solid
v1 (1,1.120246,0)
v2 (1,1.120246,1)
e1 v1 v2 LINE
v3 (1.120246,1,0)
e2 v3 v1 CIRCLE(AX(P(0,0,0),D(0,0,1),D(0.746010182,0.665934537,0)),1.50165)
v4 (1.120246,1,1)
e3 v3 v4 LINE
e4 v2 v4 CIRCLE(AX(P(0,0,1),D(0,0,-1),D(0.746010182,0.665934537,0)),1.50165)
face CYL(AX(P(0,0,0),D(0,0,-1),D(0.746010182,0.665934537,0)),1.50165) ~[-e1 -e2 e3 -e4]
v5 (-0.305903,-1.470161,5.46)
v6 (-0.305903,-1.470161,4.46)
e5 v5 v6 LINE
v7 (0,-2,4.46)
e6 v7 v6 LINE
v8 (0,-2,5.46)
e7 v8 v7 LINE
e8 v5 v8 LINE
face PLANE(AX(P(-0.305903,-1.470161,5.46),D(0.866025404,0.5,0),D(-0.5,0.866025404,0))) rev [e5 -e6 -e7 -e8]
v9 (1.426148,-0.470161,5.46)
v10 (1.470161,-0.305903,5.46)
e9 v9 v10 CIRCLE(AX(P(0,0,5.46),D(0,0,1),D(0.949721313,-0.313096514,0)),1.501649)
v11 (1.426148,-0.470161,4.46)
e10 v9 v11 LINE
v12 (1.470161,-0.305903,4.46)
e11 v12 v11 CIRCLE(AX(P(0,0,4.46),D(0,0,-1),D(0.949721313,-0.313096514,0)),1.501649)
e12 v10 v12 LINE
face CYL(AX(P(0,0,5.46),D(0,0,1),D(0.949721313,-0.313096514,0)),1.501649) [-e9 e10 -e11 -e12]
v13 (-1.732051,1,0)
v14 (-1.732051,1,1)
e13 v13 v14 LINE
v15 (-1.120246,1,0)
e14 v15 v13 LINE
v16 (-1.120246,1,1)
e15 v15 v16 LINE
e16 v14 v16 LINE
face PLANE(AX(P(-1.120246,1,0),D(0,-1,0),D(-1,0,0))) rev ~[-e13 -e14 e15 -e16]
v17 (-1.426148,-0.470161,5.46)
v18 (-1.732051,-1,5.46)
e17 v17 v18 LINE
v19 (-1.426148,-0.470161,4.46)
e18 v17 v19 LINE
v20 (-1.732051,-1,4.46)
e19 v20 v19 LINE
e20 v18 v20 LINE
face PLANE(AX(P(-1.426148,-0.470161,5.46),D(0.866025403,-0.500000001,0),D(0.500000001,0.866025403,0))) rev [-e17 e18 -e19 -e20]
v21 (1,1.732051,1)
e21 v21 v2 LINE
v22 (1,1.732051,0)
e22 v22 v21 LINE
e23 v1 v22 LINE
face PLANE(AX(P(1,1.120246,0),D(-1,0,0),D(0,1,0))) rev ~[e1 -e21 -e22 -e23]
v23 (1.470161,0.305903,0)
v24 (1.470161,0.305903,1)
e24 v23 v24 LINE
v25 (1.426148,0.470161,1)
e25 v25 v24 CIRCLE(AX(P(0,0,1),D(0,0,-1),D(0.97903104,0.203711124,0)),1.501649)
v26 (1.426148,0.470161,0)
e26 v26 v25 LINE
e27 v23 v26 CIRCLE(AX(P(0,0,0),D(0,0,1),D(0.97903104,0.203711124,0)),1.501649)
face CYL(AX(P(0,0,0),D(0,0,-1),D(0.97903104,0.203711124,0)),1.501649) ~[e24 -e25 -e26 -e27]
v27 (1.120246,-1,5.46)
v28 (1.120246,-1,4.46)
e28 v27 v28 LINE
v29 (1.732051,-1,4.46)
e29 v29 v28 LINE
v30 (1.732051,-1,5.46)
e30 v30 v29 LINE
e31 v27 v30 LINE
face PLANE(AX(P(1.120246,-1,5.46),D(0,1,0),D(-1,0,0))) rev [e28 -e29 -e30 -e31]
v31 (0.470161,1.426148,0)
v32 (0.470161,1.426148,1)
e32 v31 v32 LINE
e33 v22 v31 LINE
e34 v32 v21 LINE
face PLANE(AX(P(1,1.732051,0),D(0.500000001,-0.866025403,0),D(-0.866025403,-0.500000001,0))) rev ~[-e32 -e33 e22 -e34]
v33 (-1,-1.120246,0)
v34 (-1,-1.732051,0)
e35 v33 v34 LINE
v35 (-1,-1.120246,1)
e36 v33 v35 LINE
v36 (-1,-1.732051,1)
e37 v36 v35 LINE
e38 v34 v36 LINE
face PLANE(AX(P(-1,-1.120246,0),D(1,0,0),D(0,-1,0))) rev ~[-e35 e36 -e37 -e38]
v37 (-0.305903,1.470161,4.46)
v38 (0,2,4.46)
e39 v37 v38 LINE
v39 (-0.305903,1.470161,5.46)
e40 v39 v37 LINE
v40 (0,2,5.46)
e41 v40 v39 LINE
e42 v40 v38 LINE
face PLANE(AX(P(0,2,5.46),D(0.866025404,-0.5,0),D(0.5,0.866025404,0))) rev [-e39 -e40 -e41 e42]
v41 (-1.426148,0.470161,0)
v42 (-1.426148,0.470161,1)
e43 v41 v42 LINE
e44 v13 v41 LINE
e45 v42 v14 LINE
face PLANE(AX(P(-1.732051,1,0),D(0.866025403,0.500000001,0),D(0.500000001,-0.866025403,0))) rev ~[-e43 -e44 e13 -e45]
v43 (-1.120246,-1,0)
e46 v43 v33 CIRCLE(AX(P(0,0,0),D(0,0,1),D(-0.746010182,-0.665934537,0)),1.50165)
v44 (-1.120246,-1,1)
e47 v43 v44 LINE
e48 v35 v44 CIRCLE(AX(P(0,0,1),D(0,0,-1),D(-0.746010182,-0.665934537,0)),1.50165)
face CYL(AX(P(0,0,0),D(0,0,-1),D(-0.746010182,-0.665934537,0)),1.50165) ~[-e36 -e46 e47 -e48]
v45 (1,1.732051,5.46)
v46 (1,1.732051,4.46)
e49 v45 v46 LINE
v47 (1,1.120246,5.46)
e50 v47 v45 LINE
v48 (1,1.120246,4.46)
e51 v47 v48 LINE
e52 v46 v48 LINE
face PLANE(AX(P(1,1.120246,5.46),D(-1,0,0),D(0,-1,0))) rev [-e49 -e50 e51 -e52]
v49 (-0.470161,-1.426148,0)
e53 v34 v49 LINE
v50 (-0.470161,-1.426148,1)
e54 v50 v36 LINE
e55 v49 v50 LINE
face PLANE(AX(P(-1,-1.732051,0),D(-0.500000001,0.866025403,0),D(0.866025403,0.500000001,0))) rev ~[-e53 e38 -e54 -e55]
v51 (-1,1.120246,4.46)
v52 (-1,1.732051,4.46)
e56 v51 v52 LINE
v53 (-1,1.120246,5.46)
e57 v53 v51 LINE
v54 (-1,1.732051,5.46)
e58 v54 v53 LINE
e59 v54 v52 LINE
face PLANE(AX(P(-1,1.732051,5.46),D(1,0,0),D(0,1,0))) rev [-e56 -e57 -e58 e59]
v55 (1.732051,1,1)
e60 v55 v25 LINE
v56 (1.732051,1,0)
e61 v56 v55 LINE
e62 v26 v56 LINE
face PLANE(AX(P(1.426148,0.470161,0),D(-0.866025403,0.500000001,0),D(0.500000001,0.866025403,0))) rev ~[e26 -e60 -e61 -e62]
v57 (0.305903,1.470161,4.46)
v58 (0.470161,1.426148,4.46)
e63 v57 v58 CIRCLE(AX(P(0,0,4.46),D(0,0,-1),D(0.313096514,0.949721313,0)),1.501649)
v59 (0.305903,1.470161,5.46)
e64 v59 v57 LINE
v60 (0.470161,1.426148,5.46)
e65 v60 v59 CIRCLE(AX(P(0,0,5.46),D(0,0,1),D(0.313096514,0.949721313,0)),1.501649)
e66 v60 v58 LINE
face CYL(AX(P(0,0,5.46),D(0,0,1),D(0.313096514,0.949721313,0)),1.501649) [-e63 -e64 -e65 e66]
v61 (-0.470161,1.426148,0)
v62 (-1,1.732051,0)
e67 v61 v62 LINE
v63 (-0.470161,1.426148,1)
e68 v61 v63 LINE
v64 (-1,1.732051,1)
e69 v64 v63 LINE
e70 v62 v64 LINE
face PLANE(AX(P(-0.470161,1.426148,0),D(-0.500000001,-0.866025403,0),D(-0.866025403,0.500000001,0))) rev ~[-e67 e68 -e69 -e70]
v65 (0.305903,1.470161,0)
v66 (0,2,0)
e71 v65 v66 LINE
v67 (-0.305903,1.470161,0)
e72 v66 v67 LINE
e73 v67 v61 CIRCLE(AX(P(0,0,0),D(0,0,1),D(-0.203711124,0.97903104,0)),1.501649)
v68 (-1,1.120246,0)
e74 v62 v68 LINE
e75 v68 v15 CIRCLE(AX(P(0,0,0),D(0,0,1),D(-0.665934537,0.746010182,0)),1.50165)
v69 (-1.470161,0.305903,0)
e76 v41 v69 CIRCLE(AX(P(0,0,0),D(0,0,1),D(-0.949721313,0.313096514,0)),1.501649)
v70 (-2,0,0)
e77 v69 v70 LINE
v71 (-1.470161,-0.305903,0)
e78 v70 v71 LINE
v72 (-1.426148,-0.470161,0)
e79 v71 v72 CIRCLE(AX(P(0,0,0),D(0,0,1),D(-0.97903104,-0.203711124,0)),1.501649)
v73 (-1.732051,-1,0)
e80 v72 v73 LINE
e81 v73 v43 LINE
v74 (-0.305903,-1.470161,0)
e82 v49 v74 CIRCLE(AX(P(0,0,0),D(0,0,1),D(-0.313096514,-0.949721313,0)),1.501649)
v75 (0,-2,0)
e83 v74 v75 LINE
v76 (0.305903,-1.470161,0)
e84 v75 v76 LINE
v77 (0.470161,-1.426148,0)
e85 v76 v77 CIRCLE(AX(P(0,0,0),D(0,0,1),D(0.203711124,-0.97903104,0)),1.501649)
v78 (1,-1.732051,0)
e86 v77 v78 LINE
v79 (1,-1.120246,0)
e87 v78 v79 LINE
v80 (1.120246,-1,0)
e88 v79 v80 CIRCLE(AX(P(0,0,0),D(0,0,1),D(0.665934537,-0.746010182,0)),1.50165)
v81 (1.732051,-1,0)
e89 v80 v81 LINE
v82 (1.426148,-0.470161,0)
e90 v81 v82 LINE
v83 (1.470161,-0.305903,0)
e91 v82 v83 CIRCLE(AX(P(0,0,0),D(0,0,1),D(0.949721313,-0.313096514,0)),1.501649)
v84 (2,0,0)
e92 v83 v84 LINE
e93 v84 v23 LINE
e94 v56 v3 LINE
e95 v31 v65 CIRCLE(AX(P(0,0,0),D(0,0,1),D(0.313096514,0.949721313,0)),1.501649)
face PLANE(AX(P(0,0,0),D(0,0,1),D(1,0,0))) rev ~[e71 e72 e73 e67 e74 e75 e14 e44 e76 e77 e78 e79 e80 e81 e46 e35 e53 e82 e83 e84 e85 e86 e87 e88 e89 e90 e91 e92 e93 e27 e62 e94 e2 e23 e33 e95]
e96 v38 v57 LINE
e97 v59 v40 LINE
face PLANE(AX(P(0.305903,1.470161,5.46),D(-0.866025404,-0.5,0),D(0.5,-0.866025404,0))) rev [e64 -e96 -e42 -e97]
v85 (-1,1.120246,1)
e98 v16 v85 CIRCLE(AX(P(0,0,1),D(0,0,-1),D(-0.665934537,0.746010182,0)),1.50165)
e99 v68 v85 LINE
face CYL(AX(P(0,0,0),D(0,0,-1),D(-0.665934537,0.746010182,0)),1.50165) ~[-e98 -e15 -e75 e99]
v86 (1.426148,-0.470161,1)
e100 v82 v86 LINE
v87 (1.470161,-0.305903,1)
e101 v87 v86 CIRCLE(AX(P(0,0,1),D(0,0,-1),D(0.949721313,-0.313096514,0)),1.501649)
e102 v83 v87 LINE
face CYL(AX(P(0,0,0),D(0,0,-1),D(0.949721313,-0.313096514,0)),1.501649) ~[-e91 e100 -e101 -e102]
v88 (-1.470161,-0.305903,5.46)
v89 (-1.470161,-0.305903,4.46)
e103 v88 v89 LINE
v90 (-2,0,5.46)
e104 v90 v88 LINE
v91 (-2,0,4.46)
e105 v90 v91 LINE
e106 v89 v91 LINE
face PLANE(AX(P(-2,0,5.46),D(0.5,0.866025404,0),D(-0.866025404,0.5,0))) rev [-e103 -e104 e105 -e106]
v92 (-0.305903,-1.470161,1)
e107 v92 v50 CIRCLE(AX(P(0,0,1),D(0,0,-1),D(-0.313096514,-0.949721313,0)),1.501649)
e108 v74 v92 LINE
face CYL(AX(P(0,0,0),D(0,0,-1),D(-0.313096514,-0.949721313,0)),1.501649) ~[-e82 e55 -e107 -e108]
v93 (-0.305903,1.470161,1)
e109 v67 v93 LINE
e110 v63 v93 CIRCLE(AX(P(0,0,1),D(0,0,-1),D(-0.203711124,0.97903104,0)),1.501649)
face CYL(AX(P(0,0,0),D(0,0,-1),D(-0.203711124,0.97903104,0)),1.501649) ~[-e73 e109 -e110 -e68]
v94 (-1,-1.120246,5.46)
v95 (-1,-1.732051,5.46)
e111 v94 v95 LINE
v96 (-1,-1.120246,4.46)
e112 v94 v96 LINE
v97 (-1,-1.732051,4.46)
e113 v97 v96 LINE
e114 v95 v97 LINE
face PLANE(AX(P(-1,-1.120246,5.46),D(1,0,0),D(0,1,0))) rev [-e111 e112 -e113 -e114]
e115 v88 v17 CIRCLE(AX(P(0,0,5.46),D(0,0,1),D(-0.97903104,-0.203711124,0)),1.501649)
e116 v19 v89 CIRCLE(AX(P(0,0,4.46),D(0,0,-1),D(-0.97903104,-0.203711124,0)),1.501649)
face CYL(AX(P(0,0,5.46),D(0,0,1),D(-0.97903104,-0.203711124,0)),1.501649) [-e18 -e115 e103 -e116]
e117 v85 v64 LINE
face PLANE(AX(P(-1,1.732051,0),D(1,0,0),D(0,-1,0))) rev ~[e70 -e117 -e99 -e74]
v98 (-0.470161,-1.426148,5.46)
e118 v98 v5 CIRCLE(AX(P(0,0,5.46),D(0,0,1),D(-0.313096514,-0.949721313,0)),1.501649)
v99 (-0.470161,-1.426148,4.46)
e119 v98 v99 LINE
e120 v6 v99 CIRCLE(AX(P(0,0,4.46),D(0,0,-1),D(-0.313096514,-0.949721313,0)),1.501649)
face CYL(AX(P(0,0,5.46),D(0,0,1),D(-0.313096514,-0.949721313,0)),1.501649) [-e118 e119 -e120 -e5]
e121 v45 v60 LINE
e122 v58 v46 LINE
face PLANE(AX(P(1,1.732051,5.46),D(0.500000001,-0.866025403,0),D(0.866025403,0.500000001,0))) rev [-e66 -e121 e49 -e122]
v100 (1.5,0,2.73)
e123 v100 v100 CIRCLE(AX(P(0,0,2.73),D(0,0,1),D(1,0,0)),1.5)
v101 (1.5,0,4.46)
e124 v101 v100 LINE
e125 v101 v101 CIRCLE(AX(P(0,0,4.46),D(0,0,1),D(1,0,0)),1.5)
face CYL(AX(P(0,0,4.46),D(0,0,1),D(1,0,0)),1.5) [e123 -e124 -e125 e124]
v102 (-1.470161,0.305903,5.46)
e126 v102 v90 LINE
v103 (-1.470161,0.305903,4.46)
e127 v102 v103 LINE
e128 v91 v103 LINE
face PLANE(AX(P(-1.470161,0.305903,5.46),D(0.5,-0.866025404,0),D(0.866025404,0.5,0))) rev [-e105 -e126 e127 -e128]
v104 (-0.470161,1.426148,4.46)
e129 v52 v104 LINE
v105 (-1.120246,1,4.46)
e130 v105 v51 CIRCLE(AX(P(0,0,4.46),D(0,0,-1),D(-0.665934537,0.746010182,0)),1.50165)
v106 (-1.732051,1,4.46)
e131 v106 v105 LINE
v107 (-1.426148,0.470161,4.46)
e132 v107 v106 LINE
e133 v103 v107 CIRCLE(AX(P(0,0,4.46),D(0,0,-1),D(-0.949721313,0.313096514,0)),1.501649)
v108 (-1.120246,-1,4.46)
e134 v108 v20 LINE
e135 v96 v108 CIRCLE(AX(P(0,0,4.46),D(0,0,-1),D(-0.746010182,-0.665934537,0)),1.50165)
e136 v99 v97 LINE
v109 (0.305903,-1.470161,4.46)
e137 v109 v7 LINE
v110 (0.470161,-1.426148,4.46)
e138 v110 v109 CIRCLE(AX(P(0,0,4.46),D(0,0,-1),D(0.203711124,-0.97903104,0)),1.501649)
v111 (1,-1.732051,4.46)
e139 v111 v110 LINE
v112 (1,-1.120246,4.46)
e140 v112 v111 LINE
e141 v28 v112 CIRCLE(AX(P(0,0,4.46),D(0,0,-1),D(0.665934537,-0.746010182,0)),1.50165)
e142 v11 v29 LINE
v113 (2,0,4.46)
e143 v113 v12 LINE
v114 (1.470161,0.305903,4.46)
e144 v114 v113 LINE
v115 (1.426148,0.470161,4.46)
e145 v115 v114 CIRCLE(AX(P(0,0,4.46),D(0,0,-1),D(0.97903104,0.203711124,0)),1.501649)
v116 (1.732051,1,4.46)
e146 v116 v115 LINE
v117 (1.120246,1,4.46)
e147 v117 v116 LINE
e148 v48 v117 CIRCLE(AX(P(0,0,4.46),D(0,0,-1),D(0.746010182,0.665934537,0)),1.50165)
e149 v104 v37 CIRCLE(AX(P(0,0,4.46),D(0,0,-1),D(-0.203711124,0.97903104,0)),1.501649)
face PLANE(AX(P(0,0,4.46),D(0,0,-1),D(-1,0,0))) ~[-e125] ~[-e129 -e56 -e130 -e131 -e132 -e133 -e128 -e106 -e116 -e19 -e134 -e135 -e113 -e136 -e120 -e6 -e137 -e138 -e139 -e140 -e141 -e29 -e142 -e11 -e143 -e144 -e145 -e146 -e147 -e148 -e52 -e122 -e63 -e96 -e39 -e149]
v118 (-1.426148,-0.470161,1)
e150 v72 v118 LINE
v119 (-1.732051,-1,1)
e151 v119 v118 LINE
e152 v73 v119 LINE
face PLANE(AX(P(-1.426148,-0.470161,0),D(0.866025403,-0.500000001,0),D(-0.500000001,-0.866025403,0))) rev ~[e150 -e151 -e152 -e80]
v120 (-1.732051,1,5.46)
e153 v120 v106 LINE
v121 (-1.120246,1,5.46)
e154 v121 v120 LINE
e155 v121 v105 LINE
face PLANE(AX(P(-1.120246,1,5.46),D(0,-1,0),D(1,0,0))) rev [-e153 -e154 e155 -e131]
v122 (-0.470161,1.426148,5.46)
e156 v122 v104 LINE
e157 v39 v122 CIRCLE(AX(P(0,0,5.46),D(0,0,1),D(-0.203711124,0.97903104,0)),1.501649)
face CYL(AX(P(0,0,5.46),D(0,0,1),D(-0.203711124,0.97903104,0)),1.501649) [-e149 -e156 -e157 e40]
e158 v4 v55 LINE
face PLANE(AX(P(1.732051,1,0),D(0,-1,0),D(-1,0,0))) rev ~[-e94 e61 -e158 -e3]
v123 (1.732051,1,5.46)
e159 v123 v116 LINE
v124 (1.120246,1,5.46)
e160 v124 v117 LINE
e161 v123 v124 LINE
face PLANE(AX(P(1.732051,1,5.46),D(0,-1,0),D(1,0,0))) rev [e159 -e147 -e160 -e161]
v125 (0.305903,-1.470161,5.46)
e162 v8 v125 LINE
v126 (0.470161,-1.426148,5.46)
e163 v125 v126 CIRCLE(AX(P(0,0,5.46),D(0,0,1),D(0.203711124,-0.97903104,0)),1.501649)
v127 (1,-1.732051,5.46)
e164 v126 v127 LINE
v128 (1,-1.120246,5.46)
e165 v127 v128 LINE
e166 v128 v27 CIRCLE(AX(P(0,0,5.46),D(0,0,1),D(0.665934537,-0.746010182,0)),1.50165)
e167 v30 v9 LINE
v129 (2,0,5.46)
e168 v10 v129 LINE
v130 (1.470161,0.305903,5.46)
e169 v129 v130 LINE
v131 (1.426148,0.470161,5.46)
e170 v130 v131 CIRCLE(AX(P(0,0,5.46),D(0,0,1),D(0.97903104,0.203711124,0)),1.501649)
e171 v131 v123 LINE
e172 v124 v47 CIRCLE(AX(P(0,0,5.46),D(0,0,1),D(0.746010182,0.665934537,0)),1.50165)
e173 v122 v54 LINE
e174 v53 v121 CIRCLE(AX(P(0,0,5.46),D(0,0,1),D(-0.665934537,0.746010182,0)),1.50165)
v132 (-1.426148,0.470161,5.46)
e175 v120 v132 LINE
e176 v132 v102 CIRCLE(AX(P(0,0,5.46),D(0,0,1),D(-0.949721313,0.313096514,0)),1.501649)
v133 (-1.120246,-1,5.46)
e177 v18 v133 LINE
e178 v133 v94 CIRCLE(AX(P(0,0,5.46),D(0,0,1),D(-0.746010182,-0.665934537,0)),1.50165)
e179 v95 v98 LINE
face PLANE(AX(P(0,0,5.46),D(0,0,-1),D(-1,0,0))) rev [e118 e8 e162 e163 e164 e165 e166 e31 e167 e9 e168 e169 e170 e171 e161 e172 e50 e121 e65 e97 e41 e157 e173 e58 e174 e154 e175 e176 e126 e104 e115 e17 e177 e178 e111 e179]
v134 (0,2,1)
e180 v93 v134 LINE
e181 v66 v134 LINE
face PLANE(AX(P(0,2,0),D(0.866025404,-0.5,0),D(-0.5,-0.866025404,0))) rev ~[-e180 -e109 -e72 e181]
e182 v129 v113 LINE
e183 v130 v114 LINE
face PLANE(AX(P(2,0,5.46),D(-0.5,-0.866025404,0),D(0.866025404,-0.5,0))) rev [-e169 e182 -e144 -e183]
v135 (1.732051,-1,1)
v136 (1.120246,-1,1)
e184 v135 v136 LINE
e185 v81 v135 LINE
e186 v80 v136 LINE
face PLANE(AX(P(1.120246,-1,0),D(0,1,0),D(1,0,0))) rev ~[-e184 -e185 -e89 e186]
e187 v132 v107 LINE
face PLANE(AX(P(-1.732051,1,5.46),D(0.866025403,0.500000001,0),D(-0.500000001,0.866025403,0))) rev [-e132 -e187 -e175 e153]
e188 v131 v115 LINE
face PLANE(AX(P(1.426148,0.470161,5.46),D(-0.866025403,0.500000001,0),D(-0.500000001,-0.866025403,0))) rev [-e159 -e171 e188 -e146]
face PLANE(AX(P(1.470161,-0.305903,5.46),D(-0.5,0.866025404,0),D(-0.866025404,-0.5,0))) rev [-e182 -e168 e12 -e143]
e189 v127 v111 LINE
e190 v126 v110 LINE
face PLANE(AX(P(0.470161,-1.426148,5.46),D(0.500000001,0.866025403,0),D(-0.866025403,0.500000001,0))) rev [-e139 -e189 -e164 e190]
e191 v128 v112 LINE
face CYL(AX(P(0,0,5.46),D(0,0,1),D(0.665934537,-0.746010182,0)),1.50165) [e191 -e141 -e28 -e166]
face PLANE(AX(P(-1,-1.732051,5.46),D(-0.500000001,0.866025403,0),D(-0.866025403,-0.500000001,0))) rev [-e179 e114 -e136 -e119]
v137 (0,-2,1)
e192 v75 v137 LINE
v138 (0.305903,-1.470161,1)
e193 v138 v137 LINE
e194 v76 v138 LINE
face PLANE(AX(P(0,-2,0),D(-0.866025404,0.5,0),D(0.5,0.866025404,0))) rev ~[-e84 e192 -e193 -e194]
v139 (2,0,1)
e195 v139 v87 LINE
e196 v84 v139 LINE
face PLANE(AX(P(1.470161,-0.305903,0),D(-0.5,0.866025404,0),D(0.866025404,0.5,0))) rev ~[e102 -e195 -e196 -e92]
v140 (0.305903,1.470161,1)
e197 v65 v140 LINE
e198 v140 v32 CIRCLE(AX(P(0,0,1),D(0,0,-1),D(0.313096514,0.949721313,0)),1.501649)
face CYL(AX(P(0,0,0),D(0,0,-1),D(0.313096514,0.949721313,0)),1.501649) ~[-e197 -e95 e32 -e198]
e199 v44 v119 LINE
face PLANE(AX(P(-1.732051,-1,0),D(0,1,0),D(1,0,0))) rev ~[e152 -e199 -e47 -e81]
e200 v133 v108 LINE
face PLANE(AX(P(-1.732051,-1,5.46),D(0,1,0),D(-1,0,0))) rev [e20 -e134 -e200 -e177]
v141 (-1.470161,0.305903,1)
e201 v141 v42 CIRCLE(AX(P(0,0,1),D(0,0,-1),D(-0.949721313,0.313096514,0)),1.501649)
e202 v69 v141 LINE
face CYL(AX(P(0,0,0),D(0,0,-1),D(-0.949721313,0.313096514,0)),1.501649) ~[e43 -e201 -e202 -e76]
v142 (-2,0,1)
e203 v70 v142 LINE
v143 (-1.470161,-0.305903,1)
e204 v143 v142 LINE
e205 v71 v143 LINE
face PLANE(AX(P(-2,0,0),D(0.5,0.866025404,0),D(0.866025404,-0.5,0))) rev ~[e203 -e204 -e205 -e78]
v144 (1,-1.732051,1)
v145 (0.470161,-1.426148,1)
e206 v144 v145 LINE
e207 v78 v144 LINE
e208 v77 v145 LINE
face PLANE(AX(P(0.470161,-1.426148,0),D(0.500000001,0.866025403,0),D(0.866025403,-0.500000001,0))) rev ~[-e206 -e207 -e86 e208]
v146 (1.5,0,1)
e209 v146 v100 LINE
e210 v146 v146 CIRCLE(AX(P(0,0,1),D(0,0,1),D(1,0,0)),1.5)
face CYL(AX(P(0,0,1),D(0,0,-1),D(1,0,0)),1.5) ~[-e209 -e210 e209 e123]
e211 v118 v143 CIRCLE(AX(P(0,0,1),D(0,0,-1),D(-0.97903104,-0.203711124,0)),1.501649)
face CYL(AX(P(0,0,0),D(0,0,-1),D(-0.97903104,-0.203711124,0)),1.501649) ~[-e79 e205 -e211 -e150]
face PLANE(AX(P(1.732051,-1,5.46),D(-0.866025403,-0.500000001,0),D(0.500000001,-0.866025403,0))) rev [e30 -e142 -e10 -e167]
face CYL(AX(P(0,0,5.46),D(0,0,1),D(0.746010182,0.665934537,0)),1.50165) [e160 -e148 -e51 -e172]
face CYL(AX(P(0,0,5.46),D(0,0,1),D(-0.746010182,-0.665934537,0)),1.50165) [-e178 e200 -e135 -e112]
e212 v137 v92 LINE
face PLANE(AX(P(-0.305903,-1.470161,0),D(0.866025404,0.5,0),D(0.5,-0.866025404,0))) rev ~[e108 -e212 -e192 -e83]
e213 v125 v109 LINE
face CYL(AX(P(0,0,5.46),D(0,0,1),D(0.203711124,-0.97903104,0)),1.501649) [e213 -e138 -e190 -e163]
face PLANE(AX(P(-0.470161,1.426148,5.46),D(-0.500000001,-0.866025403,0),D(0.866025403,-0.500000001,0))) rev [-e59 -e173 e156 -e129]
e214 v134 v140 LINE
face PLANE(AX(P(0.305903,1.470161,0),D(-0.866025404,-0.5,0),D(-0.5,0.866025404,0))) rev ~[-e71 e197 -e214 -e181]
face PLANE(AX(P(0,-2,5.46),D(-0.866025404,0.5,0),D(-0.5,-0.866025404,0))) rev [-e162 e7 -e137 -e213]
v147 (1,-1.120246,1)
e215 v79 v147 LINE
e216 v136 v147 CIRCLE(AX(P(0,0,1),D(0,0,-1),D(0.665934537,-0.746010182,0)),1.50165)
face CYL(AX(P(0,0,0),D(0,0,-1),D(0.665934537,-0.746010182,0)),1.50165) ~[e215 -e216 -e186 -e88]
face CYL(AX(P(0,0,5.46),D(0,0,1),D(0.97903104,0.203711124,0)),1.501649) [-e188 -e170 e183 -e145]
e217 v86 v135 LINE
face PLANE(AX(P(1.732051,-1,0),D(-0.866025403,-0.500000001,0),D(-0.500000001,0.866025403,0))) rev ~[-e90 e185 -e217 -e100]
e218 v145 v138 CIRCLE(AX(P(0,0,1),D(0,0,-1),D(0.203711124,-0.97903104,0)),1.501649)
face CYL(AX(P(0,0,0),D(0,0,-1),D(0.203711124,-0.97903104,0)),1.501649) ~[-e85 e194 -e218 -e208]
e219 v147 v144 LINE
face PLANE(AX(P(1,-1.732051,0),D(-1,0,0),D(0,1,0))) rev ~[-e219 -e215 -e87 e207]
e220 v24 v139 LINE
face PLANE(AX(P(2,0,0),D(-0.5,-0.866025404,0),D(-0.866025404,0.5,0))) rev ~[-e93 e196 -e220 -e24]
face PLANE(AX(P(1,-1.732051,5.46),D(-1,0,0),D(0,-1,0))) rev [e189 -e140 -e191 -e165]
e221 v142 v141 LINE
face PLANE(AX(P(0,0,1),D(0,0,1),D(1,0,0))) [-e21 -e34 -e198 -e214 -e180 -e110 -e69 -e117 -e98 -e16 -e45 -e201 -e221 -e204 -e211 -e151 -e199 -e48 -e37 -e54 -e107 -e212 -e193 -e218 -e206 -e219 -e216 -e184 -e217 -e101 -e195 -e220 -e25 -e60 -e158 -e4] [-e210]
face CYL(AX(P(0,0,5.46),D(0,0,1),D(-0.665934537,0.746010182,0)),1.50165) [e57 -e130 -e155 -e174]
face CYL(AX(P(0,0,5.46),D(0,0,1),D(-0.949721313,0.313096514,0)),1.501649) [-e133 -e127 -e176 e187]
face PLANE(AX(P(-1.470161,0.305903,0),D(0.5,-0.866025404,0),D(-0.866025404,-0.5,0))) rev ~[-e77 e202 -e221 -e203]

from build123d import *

# Parameters (mm, degrees)
IZIM1_R                     = 2
Y_KSEKLIK_EKSTR_ZYON1_DEPTH = 1
IZIM2_R                     = 1.5
Y_KSEKLIK_EKSTR_ZYON2_DEPTH = 1.73
KES_EKSTR_ZYON1_DEPTH       = 2


with BuildPart() as part:
    # Çizim1 → Yükseklik-Ekstrüzyon1 (new body)
    with BuildSketch(Plane.XY):
        Circle(IZIM1_R)
    extrude(amount=Y_KSEKLIK_EKSTR_ZYON1_DEPTH)

    # Çizim2 → Yükseklik-Ekstrüzyon2 (add)
    with BuildSketch(Plane.XY.offset(1)):
        Circle(IZIM2_R)
    extrude(amount=Y_KSEKLIK_EKSTR_ZYON2_DEPTH)

    # Çizim3 → Kes-Ekstrüzyon1 (cut)
    with BuildSketch(Plane(origin=(0, 0, 0), x_dir=(-1, 0, 0), z_dir=(0, 0, -1))):
        with BuildLine():
            Line((-0.305902622, 1.470161116), (0, 2))
            ThreePointArc((0, 2), (-0.51763809, 1.931851653), (-1, 1.732050808))
            Line((-1, 1.732050808), (-0.470161116, 1.426148185))
            ThreePointArc((-0.470161116, 1.426148185), (-0.388655395, 1.45048168), (-0.305902622, 1.470161116))
        make_face()
        with BuildLine():
            Line((-1, 1.120245563), (-1, 1.732050808))
            ThreePointArc((-1, 1.732050808), (-1.414213562, 1.414213562), (-1.732050808, 1))
            Line((-1.732050808, 1), (-1.120245563, 1))
            ThreePointArc((-1.120245563, 1), (-1.061826285, 1.061826285), (-1, 1.120245563))
        make_face()
        with BuildLine():
            Line((-1.426148185, 0.470161116), (-1.732050808, 1))
            ThreePointArc((-1.732050808, 1), (-1.931851653, 0.51763809), (-2, 0))
            Line((-2, 0), (-1.470161116, 0.305902622))
            ThreePointArc((-1.470161116, 0.305902622), (-1.45048168, 0.388655395), (-1.426148185, 0.470161116))
        make_face()
        with BuildLine():
            Line((-1.470161116, -0.305902622), (-2, 0))
            ThreePointArc((-2, 0), (-1.931851653, -0.51763809), (-1.732050808, -1))
            Line((-1.732050808, -1), (-1.426148185, -0.470161116))
            ThreePointArc((-1.426148185, -0.470161116), (-1.45048168, -0.388655395), (-1.470161116, -0.305902622))
        make_face()
        with BuildLine():
            Line((-1.120245563, -1), (-1.732050808, -1))
            ThreePointArc((-1.732050808, -1), (-1.414213562, -1.414213562), (-1, -1.732050808))
            Line((-1, -1.732050808), (-1, -1.120245563))
            ThreePointArc((-1, -1.120245563), (-1.061826285, -1.061826285), (-1.120245563, -1))
        make_face()
        with BuildLine():
            ThreePointArc((-1, -1.732050808), (-0.51763809, -1.931851653), (0, -2))
            Line((0, -2), (-0.305902622, -1.470161116))
            ThreePointArc((-0.305902622, -1.470161116), (-0.388655395, -1.45048168), (-0.470161116, -1.426148185))
            Line((-0.470161116, -1.426148185), (-1, -1.732050808))
        make_face()
        with BuildLine():
            ThreePointArc((0, -2), (0.51763809, -1.931851653), (1, -1.732050808))
            Line((1, -1.732050808), (0.470161116, -1.426148185))
            ThreePointArc((0.470161116, -1.426148185), (0.388655395, -1.45048168), (0.305902622, -1.470161116))
            Line((0.305902622, -1.470161116), (0, -2))
        make_face()
        with BuildLine():
            ThreePointArc((1, -1.732050808), (1.414213562, -1.414213562), (1.732050808, -1))
            Line((1.732050808, -1), (1.120245563, -1))
            ThreePointArc((1.120245563, -1), (1.061826285, -1.061826285), (1, -1.120245563))
            Line((1, -1.120245563), (1, -1.732050808))
        make_face()
        with BuildLine():
            ThreePointArc((1.732050808, -1), (1.931851653, -0.51763809), (2, 0))
            Line((2, 0), (1.470161116, -0.305902622))
            ThreePointArc((1.470161116, -0.305902622), (1.45048168, -0.388655395), (1.426148185, -0.470161116))
            Line((1.426148185, -0.470161116), (1.732050808, -1))
        make_face()
        with BuildLine():
            ThreePointArc((2, 0), (1.931851653, 0.51763809), (1.732050808, 1))
            Line((1.732050808, 1), (1.426148185, 0.470161116))
            ThreePointArc((1.426148185, 0.470161116), (1.45048168, 0.388655395), (1.470161116, 0.305902622))
            Line((1.470161116, 0.305902622), (2, 0))
        make_face()
        with BuildLine():
            ThreePointArc((1.732050808, 1), (1.414213562, 1.414213562), (1, 1.732050808))
            Line((1, 1.732050808), (1, 1.120245563))
            ThreePointArc((1, 1.120245563), (1.061826285, 1.061826285), (1.120245563, 1))
            Line((1.120245563, 1), (1.732050808, 1))
        make_face()
        with BuildLine():
            Line((0.470161116, 1.426148185), (1, 1.732050808))
            ThreePointArc((1, 1.732050808), (0.51763809, 1.931851653), (0, 2))
            Line((0, 2), (0.305902622, 1.470161116))
            ThreePointArc((0.305902622, 1.470161116), (0.388655395, 1.45048168), (0.470161116, 1.426148185))
        make_face()
    extrude(amount=-KES_EKSTR_ZYON1_DEPTH, mode=Mode.SUBTRACT)

    # Aynalama3: part across plane


with BuildPart() as part_1:
    add(part.part)
    add(part.part.mirror(Plane.XY.offset(2.73)))


solid = part_1.part
